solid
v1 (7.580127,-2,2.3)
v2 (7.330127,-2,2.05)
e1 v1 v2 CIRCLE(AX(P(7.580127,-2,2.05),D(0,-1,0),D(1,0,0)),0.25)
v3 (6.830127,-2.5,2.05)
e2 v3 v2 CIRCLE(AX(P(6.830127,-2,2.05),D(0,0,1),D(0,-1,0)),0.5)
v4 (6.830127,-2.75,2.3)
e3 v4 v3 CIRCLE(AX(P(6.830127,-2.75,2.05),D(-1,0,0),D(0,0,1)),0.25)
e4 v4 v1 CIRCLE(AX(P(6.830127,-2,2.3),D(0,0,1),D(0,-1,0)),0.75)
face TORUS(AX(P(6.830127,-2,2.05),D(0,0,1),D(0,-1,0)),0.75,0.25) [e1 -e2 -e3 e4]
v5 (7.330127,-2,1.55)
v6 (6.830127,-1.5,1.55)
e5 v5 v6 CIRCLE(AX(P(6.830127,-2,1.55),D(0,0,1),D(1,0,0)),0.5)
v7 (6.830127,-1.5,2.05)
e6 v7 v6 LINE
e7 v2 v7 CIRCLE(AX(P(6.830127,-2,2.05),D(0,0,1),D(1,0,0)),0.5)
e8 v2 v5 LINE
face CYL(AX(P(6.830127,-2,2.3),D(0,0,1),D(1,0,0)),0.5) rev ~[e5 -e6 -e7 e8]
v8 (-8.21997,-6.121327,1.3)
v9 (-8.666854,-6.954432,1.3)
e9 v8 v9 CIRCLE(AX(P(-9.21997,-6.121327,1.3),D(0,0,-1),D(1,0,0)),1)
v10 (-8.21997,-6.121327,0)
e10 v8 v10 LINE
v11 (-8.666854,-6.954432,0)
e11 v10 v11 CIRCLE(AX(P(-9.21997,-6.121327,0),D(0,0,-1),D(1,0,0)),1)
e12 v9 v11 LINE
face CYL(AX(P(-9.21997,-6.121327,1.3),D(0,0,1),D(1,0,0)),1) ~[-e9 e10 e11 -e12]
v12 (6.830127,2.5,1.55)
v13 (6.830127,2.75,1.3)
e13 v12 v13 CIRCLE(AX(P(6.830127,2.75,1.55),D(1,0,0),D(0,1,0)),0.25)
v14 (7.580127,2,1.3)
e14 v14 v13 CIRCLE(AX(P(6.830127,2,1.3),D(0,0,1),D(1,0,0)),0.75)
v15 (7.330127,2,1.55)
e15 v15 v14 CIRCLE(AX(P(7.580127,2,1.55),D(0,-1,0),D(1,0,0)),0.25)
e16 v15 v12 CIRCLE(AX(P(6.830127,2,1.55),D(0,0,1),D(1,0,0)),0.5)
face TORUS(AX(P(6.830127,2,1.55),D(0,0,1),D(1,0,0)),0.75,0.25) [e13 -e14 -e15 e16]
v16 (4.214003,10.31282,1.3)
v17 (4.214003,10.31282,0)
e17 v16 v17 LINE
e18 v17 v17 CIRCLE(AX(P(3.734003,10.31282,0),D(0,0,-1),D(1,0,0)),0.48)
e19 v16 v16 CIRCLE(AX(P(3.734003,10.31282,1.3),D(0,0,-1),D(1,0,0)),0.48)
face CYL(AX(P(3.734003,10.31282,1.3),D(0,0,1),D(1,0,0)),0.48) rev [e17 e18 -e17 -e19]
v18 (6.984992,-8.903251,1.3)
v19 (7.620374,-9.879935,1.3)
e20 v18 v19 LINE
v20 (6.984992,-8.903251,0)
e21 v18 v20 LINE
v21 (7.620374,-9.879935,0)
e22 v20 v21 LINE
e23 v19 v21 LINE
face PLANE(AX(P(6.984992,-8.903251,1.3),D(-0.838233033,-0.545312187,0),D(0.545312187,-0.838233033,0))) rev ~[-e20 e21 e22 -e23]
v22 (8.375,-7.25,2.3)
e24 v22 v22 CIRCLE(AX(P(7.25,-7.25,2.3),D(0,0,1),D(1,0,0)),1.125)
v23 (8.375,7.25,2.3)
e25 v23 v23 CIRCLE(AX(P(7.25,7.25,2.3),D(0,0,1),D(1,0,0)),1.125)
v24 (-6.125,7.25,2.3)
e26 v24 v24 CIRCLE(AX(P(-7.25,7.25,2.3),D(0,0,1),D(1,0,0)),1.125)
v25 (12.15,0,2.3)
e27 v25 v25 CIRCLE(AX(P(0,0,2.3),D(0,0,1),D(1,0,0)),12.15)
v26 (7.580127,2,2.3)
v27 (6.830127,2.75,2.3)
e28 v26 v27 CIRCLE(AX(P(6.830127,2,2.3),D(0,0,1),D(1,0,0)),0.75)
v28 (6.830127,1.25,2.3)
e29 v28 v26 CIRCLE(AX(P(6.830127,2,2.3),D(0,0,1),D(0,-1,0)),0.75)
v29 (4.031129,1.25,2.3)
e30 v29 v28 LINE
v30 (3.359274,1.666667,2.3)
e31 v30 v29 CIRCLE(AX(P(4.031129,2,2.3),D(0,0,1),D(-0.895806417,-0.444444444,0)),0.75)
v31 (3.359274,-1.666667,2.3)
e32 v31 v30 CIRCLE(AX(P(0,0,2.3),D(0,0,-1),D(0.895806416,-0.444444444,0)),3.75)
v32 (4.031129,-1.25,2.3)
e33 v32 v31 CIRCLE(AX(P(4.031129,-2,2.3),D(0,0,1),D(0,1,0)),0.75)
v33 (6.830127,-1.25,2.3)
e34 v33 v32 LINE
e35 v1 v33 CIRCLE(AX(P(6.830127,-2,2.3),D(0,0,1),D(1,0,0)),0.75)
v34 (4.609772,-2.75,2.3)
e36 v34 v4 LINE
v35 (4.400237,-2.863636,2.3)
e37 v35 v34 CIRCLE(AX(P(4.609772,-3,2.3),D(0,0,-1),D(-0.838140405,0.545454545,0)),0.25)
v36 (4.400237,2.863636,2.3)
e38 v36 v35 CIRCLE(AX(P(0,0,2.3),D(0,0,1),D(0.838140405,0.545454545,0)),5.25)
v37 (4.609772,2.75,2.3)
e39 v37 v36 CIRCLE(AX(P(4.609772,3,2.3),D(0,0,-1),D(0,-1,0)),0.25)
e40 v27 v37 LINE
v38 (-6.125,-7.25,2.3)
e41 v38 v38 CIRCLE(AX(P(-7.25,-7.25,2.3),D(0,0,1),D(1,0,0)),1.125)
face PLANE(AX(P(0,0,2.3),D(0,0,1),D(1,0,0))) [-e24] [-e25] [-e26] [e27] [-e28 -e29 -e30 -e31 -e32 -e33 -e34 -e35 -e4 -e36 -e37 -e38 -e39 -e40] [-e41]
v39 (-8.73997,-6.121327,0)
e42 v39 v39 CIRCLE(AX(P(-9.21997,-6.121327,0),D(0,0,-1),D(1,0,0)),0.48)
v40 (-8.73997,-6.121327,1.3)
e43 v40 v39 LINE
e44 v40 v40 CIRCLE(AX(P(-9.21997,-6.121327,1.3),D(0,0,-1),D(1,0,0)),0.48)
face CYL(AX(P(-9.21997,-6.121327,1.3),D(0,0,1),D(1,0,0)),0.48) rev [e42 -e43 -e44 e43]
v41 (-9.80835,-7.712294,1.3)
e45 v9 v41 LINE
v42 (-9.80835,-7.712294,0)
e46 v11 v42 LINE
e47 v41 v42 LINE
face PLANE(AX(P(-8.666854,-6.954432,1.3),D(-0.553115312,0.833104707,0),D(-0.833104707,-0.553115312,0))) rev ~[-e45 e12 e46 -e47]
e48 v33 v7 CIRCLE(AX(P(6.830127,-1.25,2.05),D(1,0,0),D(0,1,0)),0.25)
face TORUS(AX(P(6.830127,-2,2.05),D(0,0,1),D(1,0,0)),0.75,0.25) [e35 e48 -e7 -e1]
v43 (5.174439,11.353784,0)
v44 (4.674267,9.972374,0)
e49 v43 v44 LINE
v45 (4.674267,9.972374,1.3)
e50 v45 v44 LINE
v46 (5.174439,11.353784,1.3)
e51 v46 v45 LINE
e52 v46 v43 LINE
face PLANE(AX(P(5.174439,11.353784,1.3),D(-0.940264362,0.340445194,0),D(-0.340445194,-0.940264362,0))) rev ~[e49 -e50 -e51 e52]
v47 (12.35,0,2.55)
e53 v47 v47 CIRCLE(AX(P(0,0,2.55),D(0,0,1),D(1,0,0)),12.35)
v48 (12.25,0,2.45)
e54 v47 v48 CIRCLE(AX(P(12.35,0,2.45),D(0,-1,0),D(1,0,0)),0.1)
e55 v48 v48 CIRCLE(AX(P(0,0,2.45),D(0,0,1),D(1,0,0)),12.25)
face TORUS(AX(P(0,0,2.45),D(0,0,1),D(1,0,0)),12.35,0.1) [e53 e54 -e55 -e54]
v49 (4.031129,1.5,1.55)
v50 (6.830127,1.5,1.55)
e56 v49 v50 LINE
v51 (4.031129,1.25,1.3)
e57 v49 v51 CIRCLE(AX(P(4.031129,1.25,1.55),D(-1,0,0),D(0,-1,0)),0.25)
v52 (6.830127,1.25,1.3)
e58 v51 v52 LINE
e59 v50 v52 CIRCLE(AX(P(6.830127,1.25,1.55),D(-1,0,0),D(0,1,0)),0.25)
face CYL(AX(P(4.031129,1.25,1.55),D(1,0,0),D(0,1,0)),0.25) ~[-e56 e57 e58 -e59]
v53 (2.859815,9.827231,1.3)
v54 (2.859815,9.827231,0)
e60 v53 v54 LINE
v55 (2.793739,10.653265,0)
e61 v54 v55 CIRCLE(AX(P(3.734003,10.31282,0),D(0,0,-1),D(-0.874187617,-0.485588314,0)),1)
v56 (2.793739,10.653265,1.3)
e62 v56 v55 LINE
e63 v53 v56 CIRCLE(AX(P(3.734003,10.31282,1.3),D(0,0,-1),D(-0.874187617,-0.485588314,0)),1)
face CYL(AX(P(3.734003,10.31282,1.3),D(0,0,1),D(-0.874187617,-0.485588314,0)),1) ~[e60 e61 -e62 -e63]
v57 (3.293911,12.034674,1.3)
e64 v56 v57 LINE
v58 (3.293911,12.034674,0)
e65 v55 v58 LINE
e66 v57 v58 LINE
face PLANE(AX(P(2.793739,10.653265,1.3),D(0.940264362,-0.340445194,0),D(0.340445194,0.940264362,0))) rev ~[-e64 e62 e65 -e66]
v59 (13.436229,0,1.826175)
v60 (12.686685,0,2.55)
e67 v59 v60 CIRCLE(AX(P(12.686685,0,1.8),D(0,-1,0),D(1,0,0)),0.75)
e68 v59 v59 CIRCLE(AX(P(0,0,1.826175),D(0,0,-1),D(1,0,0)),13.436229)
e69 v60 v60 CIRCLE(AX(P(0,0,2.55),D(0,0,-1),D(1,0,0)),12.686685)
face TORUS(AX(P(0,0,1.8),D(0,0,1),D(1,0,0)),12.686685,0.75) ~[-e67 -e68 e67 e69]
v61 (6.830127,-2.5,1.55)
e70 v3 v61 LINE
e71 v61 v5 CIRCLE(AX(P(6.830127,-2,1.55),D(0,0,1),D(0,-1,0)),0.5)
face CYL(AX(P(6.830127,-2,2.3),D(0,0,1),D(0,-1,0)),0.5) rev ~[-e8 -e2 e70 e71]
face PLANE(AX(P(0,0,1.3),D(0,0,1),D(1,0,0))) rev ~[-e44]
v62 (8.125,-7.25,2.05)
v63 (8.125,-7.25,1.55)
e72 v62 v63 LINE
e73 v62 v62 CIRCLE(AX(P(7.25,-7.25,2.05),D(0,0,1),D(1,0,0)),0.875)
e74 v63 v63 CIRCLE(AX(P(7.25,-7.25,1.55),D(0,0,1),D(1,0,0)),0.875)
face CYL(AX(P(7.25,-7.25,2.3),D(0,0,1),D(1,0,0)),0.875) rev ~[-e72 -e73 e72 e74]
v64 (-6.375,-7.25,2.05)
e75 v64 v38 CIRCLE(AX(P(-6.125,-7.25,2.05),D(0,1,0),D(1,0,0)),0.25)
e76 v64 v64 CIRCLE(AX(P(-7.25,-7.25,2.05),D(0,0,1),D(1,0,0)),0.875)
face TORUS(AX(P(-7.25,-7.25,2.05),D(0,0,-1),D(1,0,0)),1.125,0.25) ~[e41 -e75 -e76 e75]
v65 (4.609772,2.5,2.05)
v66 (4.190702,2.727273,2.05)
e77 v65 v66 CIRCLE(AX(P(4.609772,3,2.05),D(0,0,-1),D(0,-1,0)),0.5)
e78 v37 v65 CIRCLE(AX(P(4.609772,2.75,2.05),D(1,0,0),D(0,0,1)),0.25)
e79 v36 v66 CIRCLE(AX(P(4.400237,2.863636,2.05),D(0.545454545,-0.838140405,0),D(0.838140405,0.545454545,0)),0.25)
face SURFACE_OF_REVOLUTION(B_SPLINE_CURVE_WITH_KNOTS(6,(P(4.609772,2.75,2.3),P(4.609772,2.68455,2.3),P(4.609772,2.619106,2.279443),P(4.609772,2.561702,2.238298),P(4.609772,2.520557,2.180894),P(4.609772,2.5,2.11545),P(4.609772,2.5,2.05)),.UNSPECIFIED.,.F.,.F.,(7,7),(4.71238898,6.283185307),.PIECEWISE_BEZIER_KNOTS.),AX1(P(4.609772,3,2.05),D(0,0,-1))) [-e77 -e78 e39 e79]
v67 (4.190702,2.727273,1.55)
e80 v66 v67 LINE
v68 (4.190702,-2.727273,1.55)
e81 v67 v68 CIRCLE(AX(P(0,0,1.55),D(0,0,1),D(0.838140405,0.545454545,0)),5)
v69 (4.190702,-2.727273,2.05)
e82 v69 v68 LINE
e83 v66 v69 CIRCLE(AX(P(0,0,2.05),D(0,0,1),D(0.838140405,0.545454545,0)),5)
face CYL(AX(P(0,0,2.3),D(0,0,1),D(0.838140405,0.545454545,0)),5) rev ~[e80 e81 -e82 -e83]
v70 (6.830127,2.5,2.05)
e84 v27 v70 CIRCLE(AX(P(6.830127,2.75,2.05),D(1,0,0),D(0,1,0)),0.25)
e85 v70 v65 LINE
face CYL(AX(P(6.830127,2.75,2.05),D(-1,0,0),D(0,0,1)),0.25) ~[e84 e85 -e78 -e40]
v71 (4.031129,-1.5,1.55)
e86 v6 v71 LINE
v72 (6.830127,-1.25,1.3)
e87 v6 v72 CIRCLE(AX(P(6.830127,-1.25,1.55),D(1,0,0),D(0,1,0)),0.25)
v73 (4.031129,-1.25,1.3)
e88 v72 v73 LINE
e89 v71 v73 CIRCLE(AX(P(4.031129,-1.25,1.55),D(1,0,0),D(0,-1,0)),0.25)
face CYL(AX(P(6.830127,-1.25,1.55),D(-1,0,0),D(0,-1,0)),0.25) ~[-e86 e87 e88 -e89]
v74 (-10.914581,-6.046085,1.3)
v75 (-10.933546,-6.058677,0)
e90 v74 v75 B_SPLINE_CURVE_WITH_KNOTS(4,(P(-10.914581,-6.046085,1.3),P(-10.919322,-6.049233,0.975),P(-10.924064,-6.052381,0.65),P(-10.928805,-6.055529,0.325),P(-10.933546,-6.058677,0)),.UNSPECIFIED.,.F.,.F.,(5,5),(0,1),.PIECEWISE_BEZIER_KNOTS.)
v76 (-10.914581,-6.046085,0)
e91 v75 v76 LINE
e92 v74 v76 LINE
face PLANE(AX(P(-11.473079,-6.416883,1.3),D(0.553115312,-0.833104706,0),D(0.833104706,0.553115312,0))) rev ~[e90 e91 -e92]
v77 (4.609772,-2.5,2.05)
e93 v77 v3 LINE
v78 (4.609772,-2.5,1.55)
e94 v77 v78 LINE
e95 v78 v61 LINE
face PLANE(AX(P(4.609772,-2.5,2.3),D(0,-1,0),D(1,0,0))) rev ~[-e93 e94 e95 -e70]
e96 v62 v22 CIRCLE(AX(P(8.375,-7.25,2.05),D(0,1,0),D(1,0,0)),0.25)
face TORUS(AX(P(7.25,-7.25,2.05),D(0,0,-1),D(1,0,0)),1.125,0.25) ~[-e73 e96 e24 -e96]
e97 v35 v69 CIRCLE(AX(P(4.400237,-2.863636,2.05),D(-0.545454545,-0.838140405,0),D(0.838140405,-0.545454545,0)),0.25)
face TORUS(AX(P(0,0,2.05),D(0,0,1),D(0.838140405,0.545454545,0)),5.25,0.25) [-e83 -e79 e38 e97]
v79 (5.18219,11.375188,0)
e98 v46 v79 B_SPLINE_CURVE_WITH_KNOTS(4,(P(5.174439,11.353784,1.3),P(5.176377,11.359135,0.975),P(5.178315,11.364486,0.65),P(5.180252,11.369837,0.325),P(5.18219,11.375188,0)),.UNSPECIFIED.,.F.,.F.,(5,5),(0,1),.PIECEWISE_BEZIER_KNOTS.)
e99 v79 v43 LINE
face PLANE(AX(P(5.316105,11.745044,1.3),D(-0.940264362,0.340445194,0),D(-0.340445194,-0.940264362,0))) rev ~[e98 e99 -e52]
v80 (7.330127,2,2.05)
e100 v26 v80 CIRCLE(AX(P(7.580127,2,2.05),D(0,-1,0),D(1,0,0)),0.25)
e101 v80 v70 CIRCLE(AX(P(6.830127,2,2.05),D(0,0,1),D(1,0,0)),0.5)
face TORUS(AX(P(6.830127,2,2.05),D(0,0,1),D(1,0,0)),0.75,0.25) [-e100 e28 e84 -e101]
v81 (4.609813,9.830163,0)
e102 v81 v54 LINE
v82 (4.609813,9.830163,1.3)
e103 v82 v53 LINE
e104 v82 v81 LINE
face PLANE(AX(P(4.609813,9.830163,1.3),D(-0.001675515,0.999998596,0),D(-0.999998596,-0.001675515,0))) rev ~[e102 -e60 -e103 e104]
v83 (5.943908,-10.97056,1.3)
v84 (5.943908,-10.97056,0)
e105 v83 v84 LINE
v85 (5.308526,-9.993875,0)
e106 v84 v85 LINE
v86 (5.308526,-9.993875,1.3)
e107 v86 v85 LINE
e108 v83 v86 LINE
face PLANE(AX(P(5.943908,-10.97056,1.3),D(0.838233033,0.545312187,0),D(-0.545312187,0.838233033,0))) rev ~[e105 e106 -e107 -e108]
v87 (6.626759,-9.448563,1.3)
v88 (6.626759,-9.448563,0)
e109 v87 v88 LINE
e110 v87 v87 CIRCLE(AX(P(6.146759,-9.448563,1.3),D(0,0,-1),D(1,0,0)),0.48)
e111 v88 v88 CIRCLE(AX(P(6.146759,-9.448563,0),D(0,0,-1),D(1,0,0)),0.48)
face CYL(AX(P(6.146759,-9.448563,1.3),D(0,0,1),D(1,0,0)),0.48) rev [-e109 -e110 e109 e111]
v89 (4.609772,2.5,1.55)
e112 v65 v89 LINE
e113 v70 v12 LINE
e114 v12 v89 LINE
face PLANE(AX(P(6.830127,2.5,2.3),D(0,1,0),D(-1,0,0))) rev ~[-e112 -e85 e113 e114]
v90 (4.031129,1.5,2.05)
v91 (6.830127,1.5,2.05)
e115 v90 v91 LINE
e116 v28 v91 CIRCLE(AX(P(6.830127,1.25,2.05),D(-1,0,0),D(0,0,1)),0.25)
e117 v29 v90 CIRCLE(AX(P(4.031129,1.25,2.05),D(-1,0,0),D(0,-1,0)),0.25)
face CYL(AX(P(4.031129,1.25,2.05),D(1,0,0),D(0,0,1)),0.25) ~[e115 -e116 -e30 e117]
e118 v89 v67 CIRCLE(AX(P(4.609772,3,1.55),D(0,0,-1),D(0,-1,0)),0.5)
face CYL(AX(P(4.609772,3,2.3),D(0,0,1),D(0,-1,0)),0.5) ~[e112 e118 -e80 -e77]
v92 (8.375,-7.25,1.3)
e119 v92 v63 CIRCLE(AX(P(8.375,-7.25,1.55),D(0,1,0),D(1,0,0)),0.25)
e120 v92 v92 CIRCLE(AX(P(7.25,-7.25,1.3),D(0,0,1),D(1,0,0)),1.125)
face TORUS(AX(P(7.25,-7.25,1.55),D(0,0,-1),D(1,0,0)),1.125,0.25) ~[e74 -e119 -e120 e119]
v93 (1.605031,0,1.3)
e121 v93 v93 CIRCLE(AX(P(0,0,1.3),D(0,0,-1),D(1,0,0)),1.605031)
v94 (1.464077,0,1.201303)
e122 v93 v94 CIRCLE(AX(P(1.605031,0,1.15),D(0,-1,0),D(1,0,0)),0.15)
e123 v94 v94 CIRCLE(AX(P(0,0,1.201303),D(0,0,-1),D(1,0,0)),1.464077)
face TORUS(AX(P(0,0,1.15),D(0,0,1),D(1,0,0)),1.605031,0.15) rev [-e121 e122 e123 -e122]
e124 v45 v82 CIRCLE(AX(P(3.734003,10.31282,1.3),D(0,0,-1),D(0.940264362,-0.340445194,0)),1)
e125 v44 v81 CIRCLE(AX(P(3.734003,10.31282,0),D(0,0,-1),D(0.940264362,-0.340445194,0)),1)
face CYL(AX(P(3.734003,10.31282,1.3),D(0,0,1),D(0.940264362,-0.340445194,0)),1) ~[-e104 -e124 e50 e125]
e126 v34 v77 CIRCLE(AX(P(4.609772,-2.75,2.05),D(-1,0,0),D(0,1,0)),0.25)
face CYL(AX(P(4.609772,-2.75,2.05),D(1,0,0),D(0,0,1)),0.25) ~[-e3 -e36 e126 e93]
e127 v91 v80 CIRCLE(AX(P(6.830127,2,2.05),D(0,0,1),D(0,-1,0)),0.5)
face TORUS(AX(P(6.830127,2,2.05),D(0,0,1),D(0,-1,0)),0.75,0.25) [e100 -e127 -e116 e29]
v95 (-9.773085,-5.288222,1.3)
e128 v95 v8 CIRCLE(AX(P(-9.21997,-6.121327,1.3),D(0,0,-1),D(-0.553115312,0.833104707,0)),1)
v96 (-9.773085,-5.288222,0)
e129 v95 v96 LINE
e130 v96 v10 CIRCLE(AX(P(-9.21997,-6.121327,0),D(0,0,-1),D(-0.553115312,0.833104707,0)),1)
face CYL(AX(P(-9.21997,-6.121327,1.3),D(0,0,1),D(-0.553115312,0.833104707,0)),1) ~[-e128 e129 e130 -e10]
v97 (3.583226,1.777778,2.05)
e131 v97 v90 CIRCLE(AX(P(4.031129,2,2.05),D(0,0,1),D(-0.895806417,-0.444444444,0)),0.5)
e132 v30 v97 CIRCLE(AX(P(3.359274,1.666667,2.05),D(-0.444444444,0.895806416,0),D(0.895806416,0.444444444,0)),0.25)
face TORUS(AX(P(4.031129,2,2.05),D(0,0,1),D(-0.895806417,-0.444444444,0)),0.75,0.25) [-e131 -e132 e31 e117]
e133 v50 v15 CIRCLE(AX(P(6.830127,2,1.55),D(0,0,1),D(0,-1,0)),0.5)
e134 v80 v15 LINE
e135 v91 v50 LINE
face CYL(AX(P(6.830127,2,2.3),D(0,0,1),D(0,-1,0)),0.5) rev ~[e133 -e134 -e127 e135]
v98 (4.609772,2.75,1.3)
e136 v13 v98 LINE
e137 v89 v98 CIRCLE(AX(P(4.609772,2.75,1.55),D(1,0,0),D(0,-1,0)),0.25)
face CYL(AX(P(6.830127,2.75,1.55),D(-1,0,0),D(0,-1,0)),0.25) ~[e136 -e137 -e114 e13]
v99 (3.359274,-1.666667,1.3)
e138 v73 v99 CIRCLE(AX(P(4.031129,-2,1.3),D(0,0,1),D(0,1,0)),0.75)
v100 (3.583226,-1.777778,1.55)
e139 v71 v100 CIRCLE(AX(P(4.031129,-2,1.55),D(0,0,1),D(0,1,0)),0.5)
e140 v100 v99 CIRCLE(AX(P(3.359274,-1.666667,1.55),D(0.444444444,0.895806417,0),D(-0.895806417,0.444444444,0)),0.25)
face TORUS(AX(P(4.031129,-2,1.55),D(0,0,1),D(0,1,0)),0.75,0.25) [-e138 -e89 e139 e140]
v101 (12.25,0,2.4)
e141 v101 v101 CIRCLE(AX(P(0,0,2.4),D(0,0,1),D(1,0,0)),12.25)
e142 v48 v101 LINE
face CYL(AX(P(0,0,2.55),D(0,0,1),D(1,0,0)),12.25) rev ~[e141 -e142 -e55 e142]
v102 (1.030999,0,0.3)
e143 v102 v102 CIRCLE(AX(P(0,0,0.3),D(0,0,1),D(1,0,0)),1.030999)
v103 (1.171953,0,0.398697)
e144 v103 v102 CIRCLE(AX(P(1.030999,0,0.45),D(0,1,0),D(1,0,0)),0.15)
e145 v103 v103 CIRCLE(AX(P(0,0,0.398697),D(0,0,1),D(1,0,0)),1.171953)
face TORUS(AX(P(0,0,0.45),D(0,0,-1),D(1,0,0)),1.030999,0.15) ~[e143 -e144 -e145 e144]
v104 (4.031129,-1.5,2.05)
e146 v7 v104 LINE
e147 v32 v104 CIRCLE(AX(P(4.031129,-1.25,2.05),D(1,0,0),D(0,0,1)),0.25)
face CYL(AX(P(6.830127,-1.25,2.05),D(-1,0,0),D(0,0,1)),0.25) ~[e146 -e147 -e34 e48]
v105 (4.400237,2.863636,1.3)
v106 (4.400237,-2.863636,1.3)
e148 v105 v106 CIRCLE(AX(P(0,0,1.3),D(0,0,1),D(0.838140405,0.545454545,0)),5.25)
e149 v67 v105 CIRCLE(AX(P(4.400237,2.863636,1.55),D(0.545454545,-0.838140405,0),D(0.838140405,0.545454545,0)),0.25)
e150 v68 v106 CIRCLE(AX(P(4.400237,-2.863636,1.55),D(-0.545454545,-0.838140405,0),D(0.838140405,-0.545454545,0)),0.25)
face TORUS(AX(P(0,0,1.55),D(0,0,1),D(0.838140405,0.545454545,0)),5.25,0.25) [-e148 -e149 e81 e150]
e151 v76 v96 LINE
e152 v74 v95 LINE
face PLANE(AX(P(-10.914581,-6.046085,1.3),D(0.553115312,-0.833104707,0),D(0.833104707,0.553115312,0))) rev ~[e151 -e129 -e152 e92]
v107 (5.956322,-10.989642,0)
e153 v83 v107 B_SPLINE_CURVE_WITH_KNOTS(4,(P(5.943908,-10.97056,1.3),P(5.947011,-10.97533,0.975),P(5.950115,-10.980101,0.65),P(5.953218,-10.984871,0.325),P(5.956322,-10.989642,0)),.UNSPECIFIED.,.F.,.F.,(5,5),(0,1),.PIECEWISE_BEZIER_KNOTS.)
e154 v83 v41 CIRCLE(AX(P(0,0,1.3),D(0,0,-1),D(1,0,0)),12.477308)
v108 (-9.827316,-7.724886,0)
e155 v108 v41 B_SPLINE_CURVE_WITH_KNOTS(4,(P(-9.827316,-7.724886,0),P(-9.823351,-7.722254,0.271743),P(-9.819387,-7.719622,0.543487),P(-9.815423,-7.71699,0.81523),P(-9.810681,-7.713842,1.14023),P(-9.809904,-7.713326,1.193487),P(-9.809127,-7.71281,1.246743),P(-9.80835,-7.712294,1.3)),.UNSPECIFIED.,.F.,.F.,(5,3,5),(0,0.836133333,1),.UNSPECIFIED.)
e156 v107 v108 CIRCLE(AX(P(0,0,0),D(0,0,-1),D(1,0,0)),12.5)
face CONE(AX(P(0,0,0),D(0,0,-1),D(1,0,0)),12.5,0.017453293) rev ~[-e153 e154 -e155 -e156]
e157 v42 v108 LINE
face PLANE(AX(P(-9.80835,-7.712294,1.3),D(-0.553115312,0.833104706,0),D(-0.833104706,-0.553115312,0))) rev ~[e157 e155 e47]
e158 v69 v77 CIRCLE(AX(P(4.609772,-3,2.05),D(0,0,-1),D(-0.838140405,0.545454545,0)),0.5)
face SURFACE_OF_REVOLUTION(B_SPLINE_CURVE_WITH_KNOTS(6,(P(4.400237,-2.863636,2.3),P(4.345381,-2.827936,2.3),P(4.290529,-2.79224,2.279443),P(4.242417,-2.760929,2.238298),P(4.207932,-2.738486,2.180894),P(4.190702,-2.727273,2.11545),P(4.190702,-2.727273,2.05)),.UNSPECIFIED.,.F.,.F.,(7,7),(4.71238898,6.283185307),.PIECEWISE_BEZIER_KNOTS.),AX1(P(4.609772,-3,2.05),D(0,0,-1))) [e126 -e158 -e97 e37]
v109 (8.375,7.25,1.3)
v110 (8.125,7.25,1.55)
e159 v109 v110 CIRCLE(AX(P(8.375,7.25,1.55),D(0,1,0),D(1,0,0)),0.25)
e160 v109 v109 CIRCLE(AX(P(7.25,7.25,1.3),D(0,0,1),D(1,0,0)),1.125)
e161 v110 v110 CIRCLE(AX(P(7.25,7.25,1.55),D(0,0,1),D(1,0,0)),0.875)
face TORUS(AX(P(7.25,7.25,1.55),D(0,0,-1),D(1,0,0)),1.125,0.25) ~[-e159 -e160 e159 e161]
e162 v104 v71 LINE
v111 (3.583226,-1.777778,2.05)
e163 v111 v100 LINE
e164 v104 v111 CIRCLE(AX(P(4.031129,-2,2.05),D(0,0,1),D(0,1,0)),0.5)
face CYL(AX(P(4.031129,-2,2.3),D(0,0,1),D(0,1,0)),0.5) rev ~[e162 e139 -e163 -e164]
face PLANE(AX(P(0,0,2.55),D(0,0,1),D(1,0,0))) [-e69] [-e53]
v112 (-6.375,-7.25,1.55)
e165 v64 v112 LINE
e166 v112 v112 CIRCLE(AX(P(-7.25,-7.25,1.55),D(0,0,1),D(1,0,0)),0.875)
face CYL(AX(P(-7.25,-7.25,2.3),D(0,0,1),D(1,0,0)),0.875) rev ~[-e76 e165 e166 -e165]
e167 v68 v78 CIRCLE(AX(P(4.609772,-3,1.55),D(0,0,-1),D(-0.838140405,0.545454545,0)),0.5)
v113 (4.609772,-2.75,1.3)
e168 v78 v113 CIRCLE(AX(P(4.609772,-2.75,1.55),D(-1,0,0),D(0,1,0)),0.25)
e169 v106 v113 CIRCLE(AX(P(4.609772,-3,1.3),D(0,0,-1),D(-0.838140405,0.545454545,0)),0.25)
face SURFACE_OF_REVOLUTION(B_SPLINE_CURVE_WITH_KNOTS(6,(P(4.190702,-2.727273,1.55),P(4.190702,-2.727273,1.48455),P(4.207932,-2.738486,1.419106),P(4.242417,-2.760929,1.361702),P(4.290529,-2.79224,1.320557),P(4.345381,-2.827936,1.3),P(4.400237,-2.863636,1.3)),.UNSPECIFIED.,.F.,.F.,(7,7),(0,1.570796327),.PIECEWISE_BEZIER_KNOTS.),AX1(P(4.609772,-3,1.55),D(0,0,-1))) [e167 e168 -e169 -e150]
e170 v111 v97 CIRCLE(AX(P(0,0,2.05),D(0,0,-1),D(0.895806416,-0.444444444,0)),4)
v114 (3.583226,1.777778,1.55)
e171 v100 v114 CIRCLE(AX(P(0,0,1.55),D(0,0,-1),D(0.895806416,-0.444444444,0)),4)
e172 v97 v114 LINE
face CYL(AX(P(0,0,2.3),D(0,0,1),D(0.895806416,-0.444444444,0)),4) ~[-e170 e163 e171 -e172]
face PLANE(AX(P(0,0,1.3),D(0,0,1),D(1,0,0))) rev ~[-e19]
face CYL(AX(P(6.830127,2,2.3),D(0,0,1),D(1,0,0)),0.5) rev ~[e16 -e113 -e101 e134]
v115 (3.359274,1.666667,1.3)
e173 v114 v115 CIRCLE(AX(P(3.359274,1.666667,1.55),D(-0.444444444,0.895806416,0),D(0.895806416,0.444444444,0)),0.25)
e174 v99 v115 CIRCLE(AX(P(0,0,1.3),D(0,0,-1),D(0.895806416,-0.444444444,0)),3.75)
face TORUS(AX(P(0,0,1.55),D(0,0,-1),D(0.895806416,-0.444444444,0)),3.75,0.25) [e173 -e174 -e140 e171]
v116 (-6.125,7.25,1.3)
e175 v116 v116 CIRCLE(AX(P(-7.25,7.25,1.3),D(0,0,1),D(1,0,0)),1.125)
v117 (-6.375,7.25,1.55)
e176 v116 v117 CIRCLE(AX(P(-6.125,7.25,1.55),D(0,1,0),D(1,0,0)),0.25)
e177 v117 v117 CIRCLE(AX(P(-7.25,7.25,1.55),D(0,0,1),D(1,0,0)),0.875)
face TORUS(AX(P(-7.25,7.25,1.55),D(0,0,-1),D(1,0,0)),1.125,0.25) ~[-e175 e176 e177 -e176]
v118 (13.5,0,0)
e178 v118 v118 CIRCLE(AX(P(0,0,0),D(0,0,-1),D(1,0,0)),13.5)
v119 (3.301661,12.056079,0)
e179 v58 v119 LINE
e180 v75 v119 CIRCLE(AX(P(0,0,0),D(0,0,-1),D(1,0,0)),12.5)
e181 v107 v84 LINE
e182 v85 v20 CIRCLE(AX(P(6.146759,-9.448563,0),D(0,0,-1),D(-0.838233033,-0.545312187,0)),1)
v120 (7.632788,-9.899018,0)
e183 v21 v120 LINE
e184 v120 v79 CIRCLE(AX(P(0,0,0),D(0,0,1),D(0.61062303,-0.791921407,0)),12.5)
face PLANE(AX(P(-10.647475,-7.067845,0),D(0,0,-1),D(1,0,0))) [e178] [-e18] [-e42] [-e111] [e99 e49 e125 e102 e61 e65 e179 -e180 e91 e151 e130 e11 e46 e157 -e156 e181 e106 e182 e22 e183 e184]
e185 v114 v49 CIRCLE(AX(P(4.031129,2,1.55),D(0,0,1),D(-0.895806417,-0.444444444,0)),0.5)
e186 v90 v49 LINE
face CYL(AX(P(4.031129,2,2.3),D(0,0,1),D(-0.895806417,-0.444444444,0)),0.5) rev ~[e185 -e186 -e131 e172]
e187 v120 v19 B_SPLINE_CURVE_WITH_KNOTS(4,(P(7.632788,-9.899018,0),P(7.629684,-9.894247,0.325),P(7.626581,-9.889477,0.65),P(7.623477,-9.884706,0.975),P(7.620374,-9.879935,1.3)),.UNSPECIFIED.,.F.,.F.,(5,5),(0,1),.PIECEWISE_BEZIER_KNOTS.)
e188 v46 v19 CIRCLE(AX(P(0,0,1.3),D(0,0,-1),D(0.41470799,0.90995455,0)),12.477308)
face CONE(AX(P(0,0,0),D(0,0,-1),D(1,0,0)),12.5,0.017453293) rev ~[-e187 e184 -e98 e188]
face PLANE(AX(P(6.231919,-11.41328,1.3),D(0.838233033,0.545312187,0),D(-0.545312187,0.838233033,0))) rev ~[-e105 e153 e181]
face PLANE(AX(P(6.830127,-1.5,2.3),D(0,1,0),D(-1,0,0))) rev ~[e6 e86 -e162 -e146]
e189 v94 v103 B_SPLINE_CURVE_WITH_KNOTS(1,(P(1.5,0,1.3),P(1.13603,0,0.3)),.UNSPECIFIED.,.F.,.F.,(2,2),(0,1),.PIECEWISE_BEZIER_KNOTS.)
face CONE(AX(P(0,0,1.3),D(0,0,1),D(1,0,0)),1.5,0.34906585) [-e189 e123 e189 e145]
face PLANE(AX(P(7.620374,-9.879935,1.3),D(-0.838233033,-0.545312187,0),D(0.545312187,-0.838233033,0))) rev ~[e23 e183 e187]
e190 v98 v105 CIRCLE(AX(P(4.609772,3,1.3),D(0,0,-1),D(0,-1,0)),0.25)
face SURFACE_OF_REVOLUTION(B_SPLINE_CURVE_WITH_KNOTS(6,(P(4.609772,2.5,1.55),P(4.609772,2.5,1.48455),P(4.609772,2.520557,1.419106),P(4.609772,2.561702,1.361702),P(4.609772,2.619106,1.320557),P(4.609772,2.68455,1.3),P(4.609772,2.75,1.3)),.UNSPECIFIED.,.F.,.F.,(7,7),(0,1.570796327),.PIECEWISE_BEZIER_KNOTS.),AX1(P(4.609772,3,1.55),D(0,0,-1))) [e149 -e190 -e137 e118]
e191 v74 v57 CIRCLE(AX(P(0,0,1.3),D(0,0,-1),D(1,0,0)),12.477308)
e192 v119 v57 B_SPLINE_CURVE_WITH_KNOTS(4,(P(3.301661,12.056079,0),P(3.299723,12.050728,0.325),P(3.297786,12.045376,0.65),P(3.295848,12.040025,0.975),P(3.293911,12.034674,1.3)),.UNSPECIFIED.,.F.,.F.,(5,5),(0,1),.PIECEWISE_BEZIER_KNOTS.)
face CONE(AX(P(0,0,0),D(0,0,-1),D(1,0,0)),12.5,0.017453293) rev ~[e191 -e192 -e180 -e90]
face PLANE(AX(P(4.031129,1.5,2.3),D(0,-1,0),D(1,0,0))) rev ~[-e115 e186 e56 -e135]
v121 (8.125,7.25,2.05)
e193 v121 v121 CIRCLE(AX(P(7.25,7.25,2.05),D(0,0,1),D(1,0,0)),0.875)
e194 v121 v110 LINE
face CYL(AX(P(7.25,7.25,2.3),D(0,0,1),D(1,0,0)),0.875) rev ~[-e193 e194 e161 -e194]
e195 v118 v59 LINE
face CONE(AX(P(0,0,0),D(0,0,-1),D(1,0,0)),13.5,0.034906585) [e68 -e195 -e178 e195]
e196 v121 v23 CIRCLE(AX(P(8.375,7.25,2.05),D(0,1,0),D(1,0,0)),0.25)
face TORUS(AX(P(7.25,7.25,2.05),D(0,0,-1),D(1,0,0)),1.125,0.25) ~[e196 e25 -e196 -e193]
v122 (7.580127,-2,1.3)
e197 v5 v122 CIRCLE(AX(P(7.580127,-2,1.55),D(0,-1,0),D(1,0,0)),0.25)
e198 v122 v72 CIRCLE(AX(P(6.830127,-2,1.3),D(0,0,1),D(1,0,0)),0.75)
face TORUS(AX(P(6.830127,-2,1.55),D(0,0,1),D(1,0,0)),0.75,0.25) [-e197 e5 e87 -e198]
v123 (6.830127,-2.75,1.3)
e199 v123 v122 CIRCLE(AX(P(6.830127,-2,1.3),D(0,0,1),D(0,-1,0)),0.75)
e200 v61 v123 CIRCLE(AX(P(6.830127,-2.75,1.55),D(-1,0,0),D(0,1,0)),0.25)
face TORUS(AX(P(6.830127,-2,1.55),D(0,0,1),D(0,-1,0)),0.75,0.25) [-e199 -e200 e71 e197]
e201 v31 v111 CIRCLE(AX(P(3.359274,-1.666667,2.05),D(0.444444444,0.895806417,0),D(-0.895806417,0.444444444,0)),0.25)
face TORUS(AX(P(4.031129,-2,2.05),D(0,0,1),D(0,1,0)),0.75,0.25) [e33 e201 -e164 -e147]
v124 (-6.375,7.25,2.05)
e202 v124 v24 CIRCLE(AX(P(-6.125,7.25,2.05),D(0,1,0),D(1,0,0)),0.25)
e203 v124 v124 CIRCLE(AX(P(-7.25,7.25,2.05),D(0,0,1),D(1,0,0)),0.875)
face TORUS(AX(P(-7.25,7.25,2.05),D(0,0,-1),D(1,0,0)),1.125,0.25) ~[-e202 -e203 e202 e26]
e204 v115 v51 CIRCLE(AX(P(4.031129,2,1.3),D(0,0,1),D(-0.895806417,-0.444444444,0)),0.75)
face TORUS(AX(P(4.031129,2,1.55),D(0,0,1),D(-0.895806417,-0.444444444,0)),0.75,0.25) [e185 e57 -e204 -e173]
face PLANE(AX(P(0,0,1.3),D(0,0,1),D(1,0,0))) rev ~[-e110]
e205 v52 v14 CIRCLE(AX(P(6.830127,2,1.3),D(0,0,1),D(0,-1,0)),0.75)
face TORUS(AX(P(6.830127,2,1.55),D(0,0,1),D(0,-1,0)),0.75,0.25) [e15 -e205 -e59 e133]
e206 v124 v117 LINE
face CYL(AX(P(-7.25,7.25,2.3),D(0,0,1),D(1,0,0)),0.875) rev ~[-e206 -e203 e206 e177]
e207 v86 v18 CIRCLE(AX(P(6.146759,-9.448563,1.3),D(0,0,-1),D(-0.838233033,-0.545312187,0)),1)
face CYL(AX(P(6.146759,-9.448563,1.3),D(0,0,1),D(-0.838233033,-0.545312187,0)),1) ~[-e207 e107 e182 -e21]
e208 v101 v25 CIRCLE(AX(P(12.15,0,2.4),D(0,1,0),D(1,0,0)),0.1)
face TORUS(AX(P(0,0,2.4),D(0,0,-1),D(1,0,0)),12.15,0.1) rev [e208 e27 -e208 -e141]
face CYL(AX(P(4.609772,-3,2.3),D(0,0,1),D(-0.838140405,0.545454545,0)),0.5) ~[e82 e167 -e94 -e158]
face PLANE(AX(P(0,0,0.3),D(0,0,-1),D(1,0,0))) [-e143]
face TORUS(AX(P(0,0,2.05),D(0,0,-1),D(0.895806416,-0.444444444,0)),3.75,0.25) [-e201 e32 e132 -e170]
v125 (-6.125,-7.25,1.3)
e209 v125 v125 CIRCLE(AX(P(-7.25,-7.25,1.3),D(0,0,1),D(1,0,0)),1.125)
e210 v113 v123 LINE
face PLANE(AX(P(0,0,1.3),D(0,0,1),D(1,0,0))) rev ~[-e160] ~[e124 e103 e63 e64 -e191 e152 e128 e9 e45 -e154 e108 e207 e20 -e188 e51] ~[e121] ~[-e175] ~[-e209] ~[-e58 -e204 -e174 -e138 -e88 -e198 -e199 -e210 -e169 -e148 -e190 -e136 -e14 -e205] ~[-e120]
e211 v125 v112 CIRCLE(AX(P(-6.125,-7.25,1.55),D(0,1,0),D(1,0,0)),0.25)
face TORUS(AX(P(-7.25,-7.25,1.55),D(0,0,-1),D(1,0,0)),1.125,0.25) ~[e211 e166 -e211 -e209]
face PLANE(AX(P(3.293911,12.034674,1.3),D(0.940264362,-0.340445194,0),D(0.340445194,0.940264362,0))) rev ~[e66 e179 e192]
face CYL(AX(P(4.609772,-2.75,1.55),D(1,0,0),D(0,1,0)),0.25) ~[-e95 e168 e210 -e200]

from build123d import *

# Parameters (mm, degrees)
F0_R      = 13.5
F0_R_2    = 12.5
F1_DEPTH  = 2.55
F1_TAPER  = 2
F2_DEPTH  = 1.3
F2_TAPER  = 1
F3_R      = 0.75
F4_R      = 12.25
F5_DEPTH  = 0.25
F6_R      = 0.1
F8_DEPTH  = 2.301
F9_R      = 0.25
F10_R     = 1.5
F11_DEPTH = 1
F11_TAPER = 20
F12_R     = 0.15
F13_R     = 0.875
F14_DEPTH = 2.301
F15_R     = 0.25
F16_R     = 0.48
F17_DEPTH = 1.3


with BuildPart() as f1:
    # F0 (on Top) → F1 (new body)
    with BuildSketch(Plane.XY):
        Circle(F0_R)
        Circle(F0_R_2, mode=Mode.SUBTRACT)
        Circle(F0_R_2)
    extrude(amount=F1_DEPTH, taper=F1_TAPER)

    # F0 (on Top) → F2 (cut)
    with BuildSketch(Plane.XY):
        Circle(F0_R_2)
    extrude(amount=F2_DEPTH, taper=F2_TAPER, mode=Mode.SUBTRACT)

    # F3
    f3_edges = [f1.edges().sort_by_distance(p)[0] for p in [
        (-13.410952, 0, 2.55),
    ]]
    fillet(f3_edges, radius=F3_R)

    # F4 (on face) → F5 (cut)
    with BuildSketch(Plane.XY.offset(2.55)):
        Circle(F4_R)
    extrude(amount=-F5_DEPTH, mode=Mode.SUBTRACT)

    # F6
    f6_edges = [f1.edges().sort_by_distance(p)[0] for p in [
        (-12.25, 0, 2.3),
        (-12.25, 0, 2.55),
    ]]
    fillet(f6_edges, radius=F6_R)

    # F7 (on face) → F8 (cut, through all)
    with BuildSketch(Plane.XY.offset(2.3)):
        with BuildLine():
            ThreePointArc((3.5832256659, -1.7777777778), (-4, 0), (3.5832256659, 1.7777777778))
            ThreePointArc((3.5832256659, 1.7777777778), (3.7676057358, 1.5750817072), (4.0311288741, 1.5))
            Line((4.0311288741, 1.5), (6.8301270189, 1.5))
            ThreePointArc((6.8301270189, 1.5), (7.1836804095, 1.6464466094), (7.3301270189, 2))
            ThreePointArc((7.3301270189, 2), (7.1836804095, 2.3535533906), (6.8301270189, 2.5))
            Line((6.8301270189, 2.5), (4.6097722286, 2.5))
            ThreePointArc((4.6097722286, 2.5), (4.3714065813, 2.5604754635), (4.190702026, 2.7272727273))
            ThreePointArc((4.190702026, 2.7272727273), (-5, 0), (4.190702026, -2.7272727273))
            ThreePointArc((4.190702026, -2.7272727273), (4.3714065813, -2.5604754635), (4.6097722286, -2.5))
            Line((4.6097722286, -2.5), (6.8301270189, -2.5))
            ThreePointArc((6.8301270189, -2.5), (7.1836804095, -2.3535533906), (7.3301270189, -2))
            ThreePointArc((7.3301270189, -2), (7.1836804095, -1.6464466094), (6.8301270189, -1.5))
            Line((6.8301270189, -1.5), (4.0311288741, -1.5))
            ThreePointArc((4.0311288741, -1.5), (3.7676057358, -1.5750817072), (3.5832256659, -1.7777777778))
        make_face()
    extrude(amount=-F8_DEPTH, mode=Mode.SUBTRACT)

    # F9
    f9_edges = [f1.edges().sort_by_distance(p)[0] for p in [
        (-5, 0, 2.3),
        (-5, 0, 1.3),
    ]]
    fillet(f9_edges, radius=F9_R)

    # F10 (on face) → F11 (join)
    with BuildSketch(Plane(origin=(0, 0, 1.3), x_dir=(1, 0, 0), z_dir=(0, 0, -1))):
        Circle(F10_R)
    extrude(amount=F11_DEPTH, taper=F11_TAPER)

    # F12
    f12_edges = [f1.edges().sort_by_distance(p)[0] for p in [
        (-1.13603, 0, 0.3),
        (-1.5, 0, 1.3),
    ]]
    fillet(f12_edges, radius=F12_R)

    # F13 (on face) → F14 (cut, through all)
    with BuildSketch(Plane.XY.offset(2.3)):
        with Locations((-7.25, 7.25)):
            Circle(F13_R)
        with Locations((-7.25, -7.25)):
            Circle(F13_R)
        with Locations((7.25, -7.25)):
            Circle(F13_R)
        with Locations((7.25, 7.25)):
            Circle(F13_R)
    extrude(amount=-F14_DEPTH, mode=Mode.SUBTRACT)

    # F15
    f15_edges = [f1.edges().sort_by_distance(p)[0] for p in [
        (-8.125, 7.25, 2.3),
        (6.375, 7.25, 2.3),
        (6.375, -7.25, 2.3),
        (-8.125, -7.25, 2.3),
        (-8.125, -7.25, 1.3),
        (-8.125, 7.25, 1.3),
        (6.375, 7.25, 1.3),
        (6.375, -7.25, 1.3),
    ]]
    fillet(f15_edges, radius=F15_R)

    # F16 (on face) → F17 (join)
    with BuildSketch(Plane(origin=(0, 0, 1.3), x_dir=(1, 0, 0), z_dir=(0, 0, -1))):
        with BuildLine():
            ThreePointArc((-10.9145811016, 6.0460850701), (-10.3949043654, 6.9013903332), (-9.8083504782, 7.7122944831))
            Line((-9.8083504782, 7.7122944831), (-10.3622839268, 8.0800622675))
            Line((-10.3622839268, 8.0800622675), (-11.4730785469, 6.4168829856))
            Line((-11.4730785469, 6.4168829856), (-10.9145811016, 6.0460850701))
        make_face()
        with BuildLine():
            ThreePointArc((-8.2199697868, 6.1213271543), (-8.3387446987, 6.5940240384), (-8.6668544751, 6.9544318608))
            ThreePointArc((-8.6668544751, 6.9544318608), (-10.0530744933, 6.674442466), (-9.7730850985, 5.2882224478))
            ThreePointArc((-9.7730850985, 5.2882224478), (-8.7472729028, 5.2401020663), (-8.2199697868, 6.1213271543))
        make_face()
        with Locations((-9.2199697868, 6.1213271543)):
            Circle(F16_R, mode=Mode.SUBTRACT)
        with BuildLine():
            Line((-8.6668544751, 6.9544318608), (-9.8083504782, 7.7122944831))
            ThreePointArc((-9.8083504782, 7.7122944831), (-10.3949043654, 6.9013903332), (-10.9145811016, 6.0460850701))
            Line((-10.9145811016, 6.0460850701), (-9.7730850985, 5.2882224478))
            ThreePointArc((-9.7730850985, 5.2882224478), (-10.0530744933, 6.674442466), (-8.6668544751, 6.9544318608))
        make_face()
        with BuildLine():
            ThreePointArc((6.9849920087, 8.9032505659), (7.1054646218, 9.1641625364), (7.1467589752, 9.4485627532))
            ThreePointArc((7.1467589752, 9.4485627532), (6.431159192, 10.4072683997), (5.3085259418, 9.9938749405))
            ThreePointArc((5.3085259418, 9.9938749405), (5.6014467879, 8.6103297197), (6.9849920087, 8.9032505659))
        make_face()
        with Locations((6.1467589752, 9.4485627532)):
            Circle(F16_R, mode=Mode.SUBTRACT)
        with BuildLine():
            ThreePointArc((5.3085259418, 9.9938749405), (6.431159192, 10.4072683997), (7.1467589752, 9.4485627532))
            ThreePointArc((7.1467589752, 9.4485627532), (7.1054646218, 9.1641625364), (6.9849920087, 8.9032505659))
            Line((6.9849920087, 8.9032505659), (7.620374017, 9.8799354825))
            ThreePointArc((7.620374017, 9.8799354825), (6.8040283437, 10.4588920826), (5.9439079501, 10.9705598571))
            Line((5.9439079501, 10.9705598571), (5.3085259418, 9.9938749405))
        make_face()
        with BuildLine():
            Line((6.2319190584, 11.4132795149), (5.9439079501, 10.9705598571))
            ThreePointArc((5.9439079501, 10.9705598571), (6.8040283437, 10.4588920826), (7.620374017, 9.8799354825))
            Line((7.620374017, 9.8799354825), (7.9083851253, 10.3226551403))
            Line((7.9083851253, 10.3226551403), (6.2319190584, 11.4132795149))
        make_face()
        with BuildLine():
            Line((5.316104536, -11.7450435793), (5.1744394927, -11.3537835647))
            ThreePointArc((5.1744394927, -11.3537835647), (4.2478396826, -11.7319684337), (3.2939107692, -12.0346739525))
            Line((3.2939107692, -12.0346739525), (3.4539265375, -12.4766162298))
            Line((3.4539265375, -12.4766162298), (5.316104536, -11.7450435793))
        make_face()
        with BuildLine():
            ThreePointArc((3.2939107692, -12.0346739525), (4.2478396826, -11.7319684337), (5.1744394927, -11.3537835647))
            Line((5.1744394927, -11.3537835647), (4.6742672482, -9.9723743257))
            ThreePointArc((4.6742672482, -9.9723743257), (4.718955769, -10.1399964334), (4.7340028865, -10.3128195196))
            ThreePointArc((4.7340028865, -10.3128195196), (3.9068259727, -11.2977724022), (2.7937385247, -10.6532647135))
            Line((2.7937385247, -10.6532647135), (3.2939107692, -12.0346739525))
        make_face()
        with BuildLine():
            ThreePointArc((4.7340028865, -10.3128195196), (4.718955769, -10.1399964334), (4.6742672482, -9.9723743257))
            ThreePointArc((4.6742672482, -9.9723743257), (4.6448197976, -9.9000089645), (4.6098128136, -9.8301633568))
            Line((4.6098128136, -9.8301633568), (2.85981527, -9.827231205))
            ThreePointArc((2.85981527, -9.827231205), (2.7371870386, -10.2330814143), (2.7937385247, -10.6532647135))
            ThreePointArc((2.7937385247, -10.6532647135), (3.9068259727, -11.2977724022), (4.7340028865, -10.3128195196))
        make_face()
        with Locations((3.7340028865, -10.3128195196)):
            Circle(F16_R, mode=Mode.SUBTRACT)
    extrude(amount=F17_DEPTH)


solid = f1.part
